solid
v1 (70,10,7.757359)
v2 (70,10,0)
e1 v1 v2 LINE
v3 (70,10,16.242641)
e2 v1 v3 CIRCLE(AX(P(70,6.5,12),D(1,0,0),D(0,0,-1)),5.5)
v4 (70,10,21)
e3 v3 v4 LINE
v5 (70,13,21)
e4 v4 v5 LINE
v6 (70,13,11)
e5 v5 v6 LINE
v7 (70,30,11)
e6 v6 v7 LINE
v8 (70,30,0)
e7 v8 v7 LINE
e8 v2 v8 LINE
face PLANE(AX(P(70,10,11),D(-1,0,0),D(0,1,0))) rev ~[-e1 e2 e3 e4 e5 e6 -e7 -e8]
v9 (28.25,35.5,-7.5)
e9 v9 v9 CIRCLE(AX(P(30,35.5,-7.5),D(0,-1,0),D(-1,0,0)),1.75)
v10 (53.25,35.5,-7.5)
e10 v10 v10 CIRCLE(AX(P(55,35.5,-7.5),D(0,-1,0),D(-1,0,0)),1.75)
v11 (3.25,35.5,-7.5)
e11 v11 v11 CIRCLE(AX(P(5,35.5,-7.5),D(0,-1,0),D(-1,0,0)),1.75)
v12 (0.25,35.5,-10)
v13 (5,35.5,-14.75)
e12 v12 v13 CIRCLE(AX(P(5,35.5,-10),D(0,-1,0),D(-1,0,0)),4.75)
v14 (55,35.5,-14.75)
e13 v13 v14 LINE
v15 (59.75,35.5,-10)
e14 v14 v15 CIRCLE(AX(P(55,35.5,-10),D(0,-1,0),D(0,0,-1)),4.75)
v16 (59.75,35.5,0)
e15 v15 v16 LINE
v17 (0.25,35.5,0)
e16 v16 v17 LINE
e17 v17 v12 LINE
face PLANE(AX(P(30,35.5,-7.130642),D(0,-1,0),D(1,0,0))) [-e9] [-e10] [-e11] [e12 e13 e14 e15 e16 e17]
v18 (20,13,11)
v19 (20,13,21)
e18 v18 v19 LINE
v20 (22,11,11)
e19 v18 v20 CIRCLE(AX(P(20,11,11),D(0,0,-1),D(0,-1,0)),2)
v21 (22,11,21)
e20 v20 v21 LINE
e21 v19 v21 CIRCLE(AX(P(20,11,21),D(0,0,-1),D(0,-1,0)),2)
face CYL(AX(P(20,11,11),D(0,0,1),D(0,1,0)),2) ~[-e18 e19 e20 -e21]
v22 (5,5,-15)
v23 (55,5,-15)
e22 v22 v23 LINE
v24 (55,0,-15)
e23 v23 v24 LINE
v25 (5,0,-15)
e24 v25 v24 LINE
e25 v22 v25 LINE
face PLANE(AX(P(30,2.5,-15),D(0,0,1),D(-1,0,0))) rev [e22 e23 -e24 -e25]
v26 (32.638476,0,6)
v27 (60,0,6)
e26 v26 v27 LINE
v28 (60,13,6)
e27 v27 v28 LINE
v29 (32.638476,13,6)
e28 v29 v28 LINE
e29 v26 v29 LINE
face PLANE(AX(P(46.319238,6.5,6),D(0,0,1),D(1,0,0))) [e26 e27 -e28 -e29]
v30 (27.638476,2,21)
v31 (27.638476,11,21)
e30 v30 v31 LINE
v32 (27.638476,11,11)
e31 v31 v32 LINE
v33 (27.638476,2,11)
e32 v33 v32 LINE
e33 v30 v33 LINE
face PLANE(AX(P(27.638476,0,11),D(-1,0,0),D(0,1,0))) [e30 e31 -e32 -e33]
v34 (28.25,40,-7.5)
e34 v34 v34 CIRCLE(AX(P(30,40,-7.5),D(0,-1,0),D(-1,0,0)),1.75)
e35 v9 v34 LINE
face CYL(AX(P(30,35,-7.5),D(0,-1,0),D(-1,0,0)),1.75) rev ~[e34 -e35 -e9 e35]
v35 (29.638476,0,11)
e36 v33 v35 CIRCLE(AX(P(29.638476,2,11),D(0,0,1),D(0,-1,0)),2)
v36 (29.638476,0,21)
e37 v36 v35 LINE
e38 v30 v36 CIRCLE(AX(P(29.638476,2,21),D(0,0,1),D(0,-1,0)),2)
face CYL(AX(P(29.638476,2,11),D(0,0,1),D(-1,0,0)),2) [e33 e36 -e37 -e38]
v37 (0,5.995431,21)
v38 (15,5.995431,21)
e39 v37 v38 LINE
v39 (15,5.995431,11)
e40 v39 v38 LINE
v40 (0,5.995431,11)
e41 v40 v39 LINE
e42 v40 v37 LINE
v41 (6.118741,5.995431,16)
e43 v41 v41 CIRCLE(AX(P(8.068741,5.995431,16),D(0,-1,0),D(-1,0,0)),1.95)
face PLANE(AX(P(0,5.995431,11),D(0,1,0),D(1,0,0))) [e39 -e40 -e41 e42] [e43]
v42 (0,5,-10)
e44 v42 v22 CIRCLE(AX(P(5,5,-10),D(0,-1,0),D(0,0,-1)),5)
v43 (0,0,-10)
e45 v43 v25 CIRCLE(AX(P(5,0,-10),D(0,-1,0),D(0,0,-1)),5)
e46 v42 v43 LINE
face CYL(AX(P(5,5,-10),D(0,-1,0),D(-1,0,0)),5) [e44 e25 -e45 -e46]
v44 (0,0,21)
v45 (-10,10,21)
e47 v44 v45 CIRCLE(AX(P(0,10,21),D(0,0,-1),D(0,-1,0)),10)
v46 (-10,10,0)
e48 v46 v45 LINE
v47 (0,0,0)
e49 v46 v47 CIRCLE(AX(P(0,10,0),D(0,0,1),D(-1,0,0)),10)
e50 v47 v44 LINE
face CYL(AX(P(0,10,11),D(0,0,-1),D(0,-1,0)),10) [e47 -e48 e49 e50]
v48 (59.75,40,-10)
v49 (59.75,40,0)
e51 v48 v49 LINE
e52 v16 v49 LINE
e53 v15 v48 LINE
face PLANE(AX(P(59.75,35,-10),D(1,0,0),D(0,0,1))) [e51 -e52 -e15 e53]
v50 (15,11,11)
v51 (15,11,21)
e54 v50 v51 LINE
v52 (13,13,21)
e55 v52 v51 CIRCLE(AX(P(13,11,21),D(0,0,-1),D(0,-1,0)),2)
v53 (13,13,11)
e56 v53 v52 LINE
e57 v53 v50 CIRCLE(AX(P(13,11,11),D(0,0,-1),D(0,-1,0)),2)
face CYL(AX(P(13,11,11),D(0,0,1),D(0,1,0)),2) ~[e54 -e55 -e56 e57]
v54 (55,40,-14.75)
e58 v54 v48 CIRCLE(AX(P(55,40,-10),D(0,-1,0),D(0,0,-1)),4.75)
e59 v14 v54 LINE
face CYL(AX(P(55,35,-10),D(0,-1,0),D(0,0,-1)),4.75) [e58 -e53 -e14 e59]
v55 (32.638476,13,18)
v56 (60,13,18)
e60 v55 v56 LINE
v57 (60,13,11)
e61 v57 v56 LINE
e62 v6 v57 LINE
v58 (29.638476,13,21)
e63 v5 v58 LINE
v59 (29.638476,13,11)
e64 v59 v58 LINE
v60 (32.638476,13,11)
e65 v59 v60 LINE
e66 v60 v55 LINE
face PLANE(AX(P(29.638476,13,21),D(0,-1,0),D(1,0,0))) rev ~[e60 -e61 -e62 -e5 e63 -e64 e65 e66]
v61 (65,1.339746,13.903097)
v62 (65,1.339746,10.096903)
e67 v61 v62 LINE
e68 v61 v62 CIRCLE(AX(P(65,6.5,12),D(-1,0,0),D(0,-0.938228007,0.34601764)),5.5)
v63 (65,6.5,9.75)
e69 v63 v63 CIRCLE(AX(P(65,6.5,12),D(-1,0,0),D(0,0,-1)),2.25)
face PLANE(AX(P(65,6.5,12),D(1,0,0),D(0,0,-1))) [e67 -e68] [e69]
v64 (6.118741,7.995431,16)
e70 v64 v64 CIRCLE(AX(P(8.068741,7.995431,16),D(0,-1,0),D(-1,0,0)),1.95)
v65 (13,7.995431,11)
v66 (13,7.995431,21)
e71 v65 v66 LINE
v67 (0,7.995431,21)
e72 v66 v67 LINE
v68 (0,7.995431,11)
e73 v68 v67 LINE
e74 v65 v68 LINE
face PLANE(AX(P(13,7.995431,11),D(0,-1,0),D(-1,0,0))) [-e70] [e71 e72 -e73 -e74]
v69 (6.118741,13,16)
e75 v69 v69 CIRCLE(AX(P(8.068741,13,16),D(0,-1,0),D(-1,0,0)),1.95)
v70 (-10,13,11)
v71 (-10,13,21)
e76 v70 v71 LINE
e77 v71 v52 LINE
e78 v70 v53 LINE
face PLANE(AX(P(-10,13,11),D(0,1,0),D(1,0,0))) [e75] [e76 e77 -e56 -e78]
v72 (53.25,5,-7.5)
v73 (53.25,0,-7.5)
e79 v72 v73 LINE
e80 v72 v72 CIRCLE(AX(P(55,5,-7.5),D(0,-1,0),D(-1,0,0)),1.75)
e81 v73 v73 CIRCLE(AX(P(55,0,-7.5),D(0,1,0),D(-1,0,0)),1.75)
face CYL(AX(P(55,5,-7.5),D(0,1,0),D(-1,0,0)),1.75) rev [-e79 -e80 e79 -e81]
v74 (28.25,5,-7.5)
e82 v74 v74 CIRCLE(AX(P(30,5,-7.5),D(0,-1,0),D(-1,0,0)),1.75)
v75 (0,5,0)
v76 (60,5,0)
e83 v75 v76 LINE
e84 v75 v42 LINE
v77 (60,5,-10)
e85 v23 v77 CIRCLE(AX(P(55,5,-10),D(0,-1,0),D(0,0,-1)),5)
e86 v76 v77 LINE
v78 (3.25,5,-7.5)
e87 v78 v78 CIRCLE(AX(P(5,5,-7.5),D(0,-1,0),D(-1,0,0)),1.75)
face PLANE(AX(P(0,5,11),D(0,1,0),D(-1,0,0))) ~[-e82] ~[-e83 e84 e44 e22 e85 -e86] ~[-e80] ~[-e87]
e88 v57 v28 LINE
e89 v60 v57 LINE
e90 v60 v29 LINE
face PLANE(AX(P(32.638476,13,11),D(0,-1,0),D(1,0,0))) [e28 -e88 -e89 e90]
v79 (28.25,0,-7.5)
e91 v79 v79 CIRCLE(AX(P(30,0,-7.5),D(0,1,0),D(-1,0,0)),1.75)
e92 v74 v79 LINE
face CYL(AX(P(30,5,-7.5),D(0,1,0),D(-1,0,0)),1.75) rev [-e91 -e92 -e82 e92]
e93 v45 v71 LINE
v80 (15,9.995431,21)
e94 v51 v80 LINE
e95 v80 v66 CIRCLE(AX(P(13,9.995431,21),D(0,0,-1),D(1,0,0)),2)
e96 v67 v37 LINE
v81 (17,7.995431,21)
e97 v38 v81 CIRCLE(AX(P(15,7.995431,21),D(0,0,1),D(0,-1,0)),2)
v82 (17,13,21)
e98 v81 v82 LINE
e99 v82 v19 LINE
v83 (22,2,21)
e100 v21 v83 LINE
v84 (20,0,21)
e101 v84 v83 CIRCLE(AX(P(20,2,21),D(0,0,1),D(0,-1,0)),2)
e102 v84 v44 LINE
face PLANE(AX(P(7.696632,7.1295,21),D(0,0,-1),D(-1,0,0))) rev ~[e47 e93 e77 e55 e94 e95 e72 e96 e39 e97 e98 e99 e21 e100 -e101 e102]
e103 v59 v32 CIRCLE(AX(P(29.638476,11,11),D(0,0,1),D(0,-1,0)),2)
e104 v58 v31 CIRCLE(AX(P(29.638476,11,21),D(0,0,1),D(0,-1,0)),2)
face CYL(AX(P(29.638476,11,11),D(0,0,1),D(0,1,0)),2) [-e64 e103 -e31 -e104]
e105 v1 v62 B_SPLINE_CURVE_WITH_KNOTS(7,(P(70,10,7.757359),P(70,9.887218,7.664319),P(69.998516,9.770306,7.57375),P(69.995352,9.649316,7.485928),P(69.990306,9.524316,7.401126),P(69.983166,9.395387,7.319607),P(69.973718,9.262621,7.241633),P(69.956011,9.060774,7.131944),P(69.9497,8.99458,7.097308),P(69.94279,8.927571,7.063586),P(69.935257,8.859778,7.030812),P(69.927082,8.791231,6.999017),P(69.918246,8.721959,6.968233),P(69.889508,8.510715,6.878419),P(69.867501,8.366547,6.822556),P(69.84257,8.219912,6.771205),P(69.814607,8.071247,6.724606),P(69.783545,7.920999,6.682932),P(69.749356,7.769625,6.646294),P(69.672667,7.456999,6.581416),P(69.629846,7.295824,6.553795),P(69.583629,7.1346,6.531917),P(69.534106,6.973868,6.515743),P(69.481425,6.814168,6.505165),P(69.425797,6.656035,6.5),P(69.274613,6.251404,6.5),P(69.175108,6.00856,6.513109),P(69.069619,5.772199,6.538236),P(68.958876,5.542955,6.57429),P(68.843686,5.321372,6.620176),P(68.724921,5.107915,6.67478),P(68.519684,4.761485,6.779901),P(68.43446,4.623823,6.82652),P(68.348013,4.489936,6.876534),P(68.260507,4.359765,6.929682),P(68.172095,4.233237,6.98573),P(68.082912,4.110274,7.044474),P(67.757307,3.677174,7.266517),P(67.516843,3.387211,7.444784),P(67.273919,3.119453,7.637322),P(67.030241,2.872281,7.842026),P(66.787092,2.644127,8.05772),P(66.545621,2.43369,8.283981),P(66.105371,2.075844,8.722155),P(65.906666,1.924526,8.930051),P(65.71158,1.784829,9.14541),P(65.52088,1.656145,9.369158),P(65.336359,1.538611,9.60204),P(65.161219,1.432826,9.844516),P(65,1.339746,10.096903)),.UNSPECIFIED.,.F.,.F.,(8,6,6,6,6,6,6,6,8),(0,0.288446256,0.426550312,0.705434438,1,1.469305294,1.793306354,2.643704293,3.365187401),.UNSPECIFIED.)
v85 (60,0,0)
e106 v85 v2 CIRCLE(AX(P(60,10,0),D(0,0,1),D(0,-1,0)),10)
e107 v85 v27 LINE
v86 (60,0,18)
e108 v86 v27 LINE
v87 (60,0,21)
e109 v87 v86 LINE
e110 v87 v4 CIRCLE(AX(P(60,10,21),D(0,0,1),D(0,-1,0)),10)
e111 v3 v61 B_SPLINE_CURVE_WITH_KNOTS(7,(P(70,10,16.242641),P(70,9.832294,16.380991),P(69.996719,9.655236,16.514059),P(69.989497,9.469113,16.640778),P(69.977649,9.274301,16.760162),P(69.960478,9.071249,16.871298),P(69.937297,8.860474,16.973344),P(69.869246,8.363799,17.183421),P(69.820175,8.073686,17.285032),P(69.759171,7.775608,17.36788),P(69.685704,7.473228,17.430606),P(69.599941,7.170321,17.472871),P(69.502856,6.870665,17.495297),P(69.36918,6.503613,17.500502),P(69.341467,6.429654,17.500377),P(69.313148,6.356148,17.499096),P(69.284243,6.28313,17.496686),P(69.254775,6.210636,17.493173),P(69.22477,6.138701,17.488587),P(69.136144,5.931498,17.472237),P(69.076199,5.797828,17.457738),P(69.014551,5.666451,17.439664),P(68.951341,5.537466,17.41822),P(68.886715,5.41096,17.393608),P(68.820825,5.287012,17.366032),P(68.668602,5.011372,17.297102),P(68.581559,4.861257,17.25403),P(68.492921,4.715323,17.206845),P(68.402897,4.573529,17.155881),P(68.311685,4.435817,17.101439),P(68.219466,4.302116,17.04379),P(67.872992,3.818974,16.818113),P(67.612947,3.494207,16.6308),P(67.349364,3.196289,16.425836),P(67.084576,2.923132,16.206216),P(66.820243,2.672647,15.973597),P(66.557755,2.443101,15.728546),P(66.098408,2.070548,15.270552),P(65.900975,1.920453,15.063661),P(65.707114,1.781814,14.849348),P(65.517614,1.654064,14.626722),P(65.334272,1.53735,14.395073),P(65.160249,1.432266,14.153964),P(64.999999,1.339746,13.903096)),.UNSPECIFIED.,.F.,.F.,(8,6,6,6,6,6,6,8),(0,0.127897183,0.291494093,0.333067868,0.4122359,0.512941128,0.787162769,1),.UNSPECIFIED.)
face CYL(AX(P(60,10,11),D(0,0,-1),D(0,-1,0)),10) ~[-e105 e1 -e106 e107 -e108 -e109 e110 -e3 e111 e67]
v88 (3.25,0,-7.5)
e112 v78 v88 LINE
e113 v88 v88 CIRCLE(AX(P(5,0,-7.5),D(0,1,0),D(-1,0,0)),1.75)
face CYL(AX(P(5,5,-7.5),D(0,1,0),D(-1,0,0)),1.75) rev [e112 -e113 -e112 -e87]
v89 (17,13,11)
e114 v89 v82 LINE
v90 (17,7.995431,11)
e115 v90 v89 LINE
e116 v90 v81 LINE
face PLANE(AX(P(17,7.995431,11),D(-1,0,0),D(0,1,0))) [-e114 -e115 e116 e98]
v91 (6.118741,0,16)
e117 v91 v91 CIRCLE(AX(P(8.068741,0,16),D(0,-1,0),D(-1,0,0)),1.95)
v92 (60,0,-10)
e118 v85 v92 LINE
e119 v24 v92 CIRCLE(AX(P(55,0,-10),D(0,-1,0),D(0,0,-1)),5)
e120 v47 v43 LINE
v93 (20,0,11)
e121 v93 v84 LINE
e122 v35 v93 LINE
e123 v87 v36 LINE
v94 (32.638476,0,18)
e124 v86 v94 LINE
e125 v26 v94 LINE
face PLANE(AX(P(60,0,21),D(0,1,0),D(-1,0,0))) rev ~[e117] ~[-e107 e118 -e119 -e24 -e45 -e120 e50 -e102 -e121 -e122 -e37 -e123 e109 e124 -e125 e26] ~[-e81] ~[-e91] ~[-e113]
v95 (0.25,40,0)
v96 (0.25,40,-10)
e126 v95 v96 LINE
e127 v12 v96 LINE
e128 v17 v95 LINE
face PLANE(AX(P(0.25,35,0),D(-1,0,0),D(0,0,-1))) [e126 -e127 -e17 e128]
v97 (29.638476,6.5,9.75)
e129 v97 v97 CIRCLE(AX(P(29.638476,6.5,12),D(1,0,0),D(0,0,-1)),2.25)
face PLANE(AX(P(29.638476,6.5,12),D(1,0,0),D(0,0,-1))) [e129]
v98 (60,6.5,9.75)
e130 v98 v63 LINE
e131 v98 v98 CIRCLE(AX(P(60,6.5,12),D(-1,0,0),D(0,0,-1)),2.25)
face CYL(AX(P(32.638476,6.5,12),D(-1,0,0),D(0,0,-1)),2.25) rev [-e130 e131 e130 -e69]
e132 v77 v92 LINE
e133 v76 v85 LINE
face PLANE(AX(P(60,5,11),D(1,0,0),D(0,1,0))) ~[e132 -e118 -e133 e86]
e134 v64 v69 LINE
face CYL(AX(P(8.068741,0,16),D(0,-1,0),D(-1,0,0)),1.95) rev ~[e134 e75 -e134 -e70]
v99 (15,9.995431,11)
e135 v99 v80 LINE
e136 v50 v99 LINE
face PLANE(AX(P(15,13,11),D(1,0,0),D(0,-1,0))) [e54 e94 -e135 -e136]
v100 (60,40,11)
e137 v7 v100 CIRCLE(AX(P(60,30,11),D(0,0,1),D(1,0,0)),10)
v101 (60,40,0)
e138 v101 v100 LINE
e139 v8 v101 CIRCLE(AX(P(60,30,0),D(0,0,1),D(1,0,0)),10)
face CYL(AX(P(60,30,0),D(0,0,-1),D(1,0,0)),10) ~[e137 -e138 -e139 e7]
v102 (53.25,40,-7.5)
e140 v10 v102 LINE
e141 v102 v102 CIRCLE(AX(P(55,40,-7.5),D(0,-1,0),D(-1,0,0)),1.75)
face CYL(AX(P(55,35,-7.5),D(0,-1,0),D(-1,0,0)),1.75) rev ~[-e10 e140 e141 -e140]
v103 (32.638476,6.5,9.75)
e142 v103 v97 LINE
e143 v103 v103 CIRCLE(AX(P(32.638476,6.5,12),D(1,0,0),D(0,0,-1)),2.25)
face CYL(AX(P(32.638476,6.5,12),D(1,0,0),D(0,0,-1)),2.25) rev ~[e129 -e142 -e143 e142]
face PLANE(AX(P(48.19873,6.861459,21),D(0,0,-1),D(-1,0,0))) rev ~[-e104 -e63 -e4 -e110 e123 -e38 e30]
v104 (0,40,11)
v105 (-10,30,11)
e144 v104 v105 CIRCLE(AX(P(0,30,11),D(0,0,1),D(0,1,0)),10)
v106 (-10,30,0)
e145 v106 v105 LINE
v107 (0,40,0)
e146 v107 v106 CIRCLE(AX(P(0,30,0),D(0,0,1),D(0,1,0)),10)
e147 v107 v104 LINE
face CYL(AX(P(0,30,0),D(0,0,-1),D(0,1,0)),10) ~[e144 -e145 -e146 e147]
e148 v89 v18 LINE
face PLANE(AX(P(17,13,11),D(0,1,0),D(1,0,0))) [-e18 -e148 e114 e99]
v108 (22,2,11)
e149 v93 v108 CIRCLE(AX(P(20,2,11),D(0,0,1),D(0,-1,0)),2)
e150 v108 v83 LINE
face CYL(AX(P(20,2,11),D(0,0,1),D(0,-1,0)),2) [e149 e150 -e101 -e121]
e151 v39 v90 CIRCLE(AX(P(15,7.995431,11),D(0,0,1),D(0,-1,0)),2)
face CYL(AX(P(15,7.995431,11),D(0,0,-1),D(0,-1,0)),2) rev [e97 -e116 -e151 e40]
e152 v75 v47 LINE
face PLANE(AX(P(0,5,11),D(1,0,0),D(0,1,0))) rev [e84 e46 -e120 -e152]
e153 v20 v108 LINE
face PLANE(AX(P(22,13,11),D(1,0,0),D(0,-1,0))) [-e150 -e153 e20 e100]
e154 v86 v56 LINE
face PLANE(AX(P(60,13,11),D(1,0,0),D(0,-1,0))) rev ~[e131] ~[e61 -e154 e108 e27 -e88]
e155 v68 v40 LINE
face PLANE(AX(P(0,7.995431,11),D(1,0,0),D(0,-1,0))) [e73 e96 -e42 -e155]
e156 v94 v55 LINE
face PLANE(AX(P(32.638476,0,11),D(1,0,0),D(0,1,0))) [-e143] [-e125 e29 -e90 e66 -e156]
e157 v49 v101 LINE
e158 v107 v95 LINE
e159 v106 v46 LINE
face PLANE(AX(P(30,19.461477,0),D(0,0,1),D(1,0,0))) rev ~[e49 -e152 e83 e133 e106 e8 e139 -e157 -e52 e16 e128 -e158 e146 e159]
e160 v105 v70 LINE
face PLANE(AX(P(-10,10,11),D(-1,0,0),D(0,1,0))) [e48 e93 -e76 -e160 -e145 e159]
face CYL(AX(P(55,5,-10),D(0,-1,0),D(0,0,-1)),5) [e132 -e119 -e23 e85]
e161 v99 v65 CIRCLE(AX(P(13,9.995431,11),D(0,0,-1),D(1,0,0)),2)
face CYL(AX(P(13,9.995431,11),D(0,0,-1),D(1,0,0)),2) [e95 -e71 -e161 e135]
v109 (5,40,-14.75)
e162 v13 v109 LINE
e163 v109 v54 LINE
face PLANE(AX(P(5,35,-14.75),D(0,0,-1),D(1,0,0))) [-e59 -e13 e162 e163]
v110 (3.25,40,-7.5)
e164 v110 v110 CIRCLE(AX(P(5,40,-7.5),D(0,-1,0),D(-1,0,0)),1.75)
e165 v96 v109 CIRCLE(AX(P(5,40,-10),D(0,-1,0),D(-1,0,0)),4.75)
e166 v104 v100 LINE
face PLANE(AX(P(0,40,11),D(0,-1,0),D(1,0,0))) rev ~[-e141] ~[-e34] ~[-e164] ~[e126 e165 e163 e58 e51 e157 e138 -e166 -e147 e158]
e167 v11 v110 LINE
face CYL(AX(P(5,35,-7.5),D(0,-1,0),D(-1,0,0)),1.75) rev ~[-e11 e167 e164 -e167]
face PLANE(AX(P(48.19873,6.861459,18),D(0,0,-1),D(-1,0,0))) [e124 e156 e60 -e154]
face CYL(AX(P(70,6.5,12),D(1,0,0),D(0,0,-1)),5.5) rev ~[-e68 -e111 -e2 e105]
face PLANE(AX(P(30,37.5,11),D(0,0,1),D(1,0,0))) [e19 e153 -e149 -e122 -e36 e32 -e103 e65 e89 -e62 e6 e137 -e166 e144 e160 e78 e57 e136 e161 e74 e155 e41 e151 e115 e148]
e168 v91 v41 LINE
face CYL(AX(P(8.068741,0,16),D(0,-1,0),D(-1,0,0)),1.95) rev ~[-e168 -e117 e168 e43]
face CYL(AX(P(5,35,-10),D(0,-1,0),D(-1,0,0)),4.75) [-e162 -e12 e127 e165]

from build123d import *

# Parameters (mm, degrees)
BOSS_EXTRUDE1_DEPTH      = 11
SKETCH2_W                = 60
SKETCH2_H                = 5
BOSS_EXTRUDE2_DEPTH      = 26
FILLET1_R                = 5
SKETCH4_R                = 1.75
CUT_EXTRUDE2_DEPTH       = 25
CUT_EXTRUDE3_DEPTH       = 25
FILLET1_OF_MIRROR1_R     = 5
CUT_EXTRUDE7_DEPTH       = 0.5
BOSS_EXTRUDE3_DEPTH      = 10
SKETCH20_R               = 1.95
CUT_EXTRUDE10_DEPTH      = 14
FILLET2_R                = 2
SKETCH21_W               = 5
SKETCH21_H               = 13
BOSS_EXTRUDE4_DEPTH      = 10
FILLET3_R                = 2
FILLET4_R                = 2
SKETCH24_W               = 27.361524014
SKETCH24_H               = 13
CUT_EXTRUDE12_DEPTH      = 5
SKETCH22_R               = 2.25
CUT_EXTRUDE11_DEPTH      = 38.361524014
CUT_EXTRUDE11_DEPTH_BACK = 3
SKETCH23_R               = 5.5
CUT_EXTRUDE13_DEPTH      = 5
BOSS_EXTRUDE5_DEPTH      = 3
FILLET5_R                = 2


with BuildPart() as part:
    # Sketch1 → Boss-Extrude1 (new body)
    with BuildSketch(Plane.XY):
        with BuildLine():
            Line((60, 35), (0, 35))
            Line((0, 35), (0, 40))
            ThreePointArc((0, 40), (-7.071067812, 37.071067812), (-10, 30))
            Line((-10, 30), (-10, 10))
            ThreePointArc((-10, 10), (-7.071067812, 2.928932188), (0, 0))
            Line((0, 0), (60, 0))
            ThreePointArc((60, 0), (67.071067812, 2.928932188), (70, 10))
            Line((70, 10), (70, 30))
            ThreePointArc((70, 30), (67.071067812, 37.071067812), (60, 40))
            Line((60, 40), (60, 35))
        make_face()
    extrude(amount=BOSS_EXTRUDE1_DEPTH)

    # Sketch2 → Boss-Extrude2 (add)
    with BuildSketch(Plane.XY.offset(11)):
        with Locations((30, 37.5)):
            Rectangle(SKETCH2_W, SKETCH2_H)
    boss_extrude2 = extrude(amount=-BOSS_EXTRUDE2_DEPTH)

    # Fillet1
    fillet1_edges = [part.edges().sort_by_distance(p)[0] for p in [
        (0, 37.5, -15),
        (60, 37.5, -15),
    ]]
    fillet(fillet1_edges, radius=FILLET1_R)

    # Sketch4 → Cut-Extrude2 (cut)
    with BuildSketch(Plane(origin=(0, 35, 0), x_dir=(-1, 0, 0), z_dir=(0, -1, 0))):
        with Locations((-55, 7.5)):
            Circle(SKETCH4_R)
        with Locations((-30, 7.5)):
            Circle(SKETCH4_R)
        with Locations((-5, 7.5)):
            Circle(SKETCH4_R)
    cut_extrude2 = extrude(amount=-CUT_EXTRUDE2_DEPTH, mode=Mode.SUBTRACT)

    # Sketch5 → Cut-Extrude3 (cut)
    with BuildSketch(Plane.XZ.offset(-35)):
        with BuildLine():
            Line((5, -14.75), (55, -14.75))
            ThreePointArc((55, -14.75), (58.358757211, -13.358757211), (59.75, -10))
            Line((59.75, -10), (59.75, -0.25))
            Line((59.75, -0.25), (59.75, 0))
            Line((59.75, 0), (60, 0))
            Line((60, 0), (60, -10))
            ThreePointArc((60, -10), (58.535533906, -13.535533906), (55, -15))
            Line((55, -15), (5, -15))
            ThreePointArc((5, -15), (1.464466094, -13.535533906), (0, -10))
            Line((0, -10), (0, 0))
            Line((0, 0), (0.25, 0))
            Line((0.25, 0), (0.25, -0.25))
            Line((0.25, -0.25), (0.25, -10))
            ThreePointArc((0.25, -10), (1.641242789, -13.358757211), (5, -14.75))
        make_face()
    extrude(amount=-CUT_EXTRUDE3_DEPTH, mode=Mode.SUBTRACT)

    # Mirror1: Boss-Extrude2, Cut-Extrude2 across plane
    add(boss_extrude2.mirror(Plane(origin=(0, 20, 0), x_dir=(0, 0, 1), z_dir=(0, -1, 0))))
    add(cut_extrude2.mirror(Plane(origin=(0, 20, 0), x_dir=(0, 0, 1), z_dir=(0, -1, 0))), mode=Mode.SUBTRACT)

    # Fillet1 of Mirror1
    fillet1_of_mirror1_edges = [part.edges().sort_by_distance(p)[0] for p in [
        (0, 2.5, -15),
        (60, 2.5, -15),
    ]]
    fillet(fillet1_of_mirror1_edges, radius=FILLET1_OF_MIRROR1_R)

    # Sketch16 → Cut-Extrude7 (cut)
    with BuildSketch(Plane.XZ.offset(-35)):
        with BuildLine():
            Line((0.25, 0), (0.25, -10))
            ThreePointArc((0.25, -10), (1.641242789, -13.358757211), (5, -14.75))
            Line((5, -14.75), (55, -14.75))
            ThreePointArc((55, -14.75), (58.358757211, -13.358757211), (59.75, -10))
            Line((59.75, -10), (59.75, 0))
            Line((59.75, 0), (0.25, 0))
        make_face()
    extrude(amount=-CUT_EXTRUDE7_DEPTH, mode=Mode.SUBTRACT)

    # Sketch19 → Boss-Extrude3 (add)
    with BuildSketch(Plane.XY.offset(11)):
        with BuildLine():
            Line((-10, 13), (15, 13))
            Line((15, 13), (15, 9.995431427))
            ThreePointArc((15, 9.995431427), (14.414213562, 8.581217864), (13, 7.995431427))
            Line((13, 7.995431427), (0, 7.995431427))
            Line((0, 7.995431427), (0, 5.995431427))
            Line((0, 5.995431427), (15, 5.995431427))
            ThreePointArc((15, 5.995431427), (16.414213562, 6.581217864), (17, 7.995431427))
            Line((17, 7.995431427), (17, 13))
            Line((17, 13), (22, 13))
            Line((22, 13), (22, 0))
            Line((22, 0), (0, 0))
            ThreePointArc((0, 0), (-7.071067812, 2.928932188), (-10, 10))
            Line((-10, 10), (-10, 13))
        make_face()
    extrude(amount=BOSS_EXTRUDE3_DEPTH)

    # Sketch20 → Cut-Extrude10 (cut)
    with BuildSketch(Plane(origin=(0, 0, 0), x_dir=(-1, 0, 0), z_dir=(0, -1, 0))):
        with Locations((-8.068741, -16)):
            Circle(SKETCH20_R)
    extrude(amount=-CUT_EXTRUDE10_DEPTH, mode=Mode.SUBTRACT)

    # Fillet2
    fillet2_edges = [part.edges().sort_by_distance(p)[0] for p in [
        (15, 13, 16),
    ]]
    fillet(fillet2_edges, radius=FILLET2_R)

    # Sketch21 → Boss-Extrude4 (add)
    with BuildSketch(Plane.XY.offset(11)):
        with BuildLine():
            Line((70, 13), (60, 13))
            Line((60, 13), (60, 0))
            ThreePointArc((60, 0), (67.071067812, 2.928932188), (70, 10))
            Line((70, 10), (70, 13))
        make_face()
        with Locations((30.138475986, 6.5)):
            Rectangle(SKETCH21_W, SKETCH21_H)
    extrude(amount=BOSS_EXTRUDE4_DEPTH)

    # Fillet3
    fillet3_edges = [part.edges().sort_by_distance(p)[0] for p in [
        (27.638475986, 13, 16),
    ]]
    fillet(fillet3_edges, radius=FILLET3_R)

    # Fillet4
    fillet4_edges = [part.edges().sort_by_distance(p)[0] for p in [
        (27.638475986, 0, 16),
    ]]
    fillet(fillet4_edges, radius=FILLET4_R)

    # Sketch24 → Cut-Extrude12 (cut)
    with BuildSketch(Plane.XY.offset(11)):
        with Locations((46.319237993, 6.5)):
            Rectangle(SKETCH24_W, SKETCH24_H)
    extrude(amount=-CUT_EXTRUDE12_DEPTH, mode=Mode.SUBTRACT)

    # Sketch22 → Cut-Extrude11 (cut, two sides)
    with BuildSketch(Plane(origin=(32.638475986, 0, 0), x_dir=(0, 0, -1), z_dir=(1, 0, 0))) as cut_extrude11_sk:
        with Locations((-12, 6.5)):
            Circle(SKETCH22_R)
    extrude(amount=CUT_EXTRUDE11_DEPTH, mode=Mode.SUBTRACT)
    extrude(cut_extrude11_sk.sketch, amount=-CUT_EXTRUDE11_DEPTH_BACK, mode=Mode.SUBTRACT)

    # Sketch23 → Cut-Extrude13 (cut)
    with BuildSketch(Plane(origin=(70, 0, 0), x_dir=(0, 0, -1), z_dir=(1, 0, 0))):
        with Locations((-12, 6.5)):
            Circle(SKETCH23_R)
    extrude(amount=-CUT_EXTRUDE13_DEPTH, mode=Mode.SUBTRACT)

    # Sketch25 → Boss-Extrude5 (add)
    with BuildSketch(Plane.XY.offset(21)):
        with BuildLine():
            Line((60, 0), (32.638475986, 0))
            Line((32.638475986, 0), (29.638475986, 0))
            ThreePointArc((29.638475986, 0), (28.224262424, 0.585786438), (27.638475986, 2))
            Line((27.638475986, 2), (27.638475986, 11))
            ThreePointArc((27.638475986, 11), (28.224262424, 12.414213562), (29.638475986, 13))
            Line((29.638475986, 13), (32.638475986, 13))
            Line((32.638475986, 13), (60, 13))
            Line((60, 13), (70, 13))
            Line((70, 13), (70, 10))
            ThreePointArc((70, 10), (67.071067812, 2.928932188), (60, 0))
        make_face()
    extrude(amount=-BOSS_EXTRUDE5_DEPTH)

    # Fillet5
    fillet5_edges = [part.edges().sort_by_distance(p)[0] for p in [
        (22, 0, 16),
        (22, 13, 16),
    ]]
    fillet(fillet5_edges, radius=FILLET5_R)


solid = part.part
